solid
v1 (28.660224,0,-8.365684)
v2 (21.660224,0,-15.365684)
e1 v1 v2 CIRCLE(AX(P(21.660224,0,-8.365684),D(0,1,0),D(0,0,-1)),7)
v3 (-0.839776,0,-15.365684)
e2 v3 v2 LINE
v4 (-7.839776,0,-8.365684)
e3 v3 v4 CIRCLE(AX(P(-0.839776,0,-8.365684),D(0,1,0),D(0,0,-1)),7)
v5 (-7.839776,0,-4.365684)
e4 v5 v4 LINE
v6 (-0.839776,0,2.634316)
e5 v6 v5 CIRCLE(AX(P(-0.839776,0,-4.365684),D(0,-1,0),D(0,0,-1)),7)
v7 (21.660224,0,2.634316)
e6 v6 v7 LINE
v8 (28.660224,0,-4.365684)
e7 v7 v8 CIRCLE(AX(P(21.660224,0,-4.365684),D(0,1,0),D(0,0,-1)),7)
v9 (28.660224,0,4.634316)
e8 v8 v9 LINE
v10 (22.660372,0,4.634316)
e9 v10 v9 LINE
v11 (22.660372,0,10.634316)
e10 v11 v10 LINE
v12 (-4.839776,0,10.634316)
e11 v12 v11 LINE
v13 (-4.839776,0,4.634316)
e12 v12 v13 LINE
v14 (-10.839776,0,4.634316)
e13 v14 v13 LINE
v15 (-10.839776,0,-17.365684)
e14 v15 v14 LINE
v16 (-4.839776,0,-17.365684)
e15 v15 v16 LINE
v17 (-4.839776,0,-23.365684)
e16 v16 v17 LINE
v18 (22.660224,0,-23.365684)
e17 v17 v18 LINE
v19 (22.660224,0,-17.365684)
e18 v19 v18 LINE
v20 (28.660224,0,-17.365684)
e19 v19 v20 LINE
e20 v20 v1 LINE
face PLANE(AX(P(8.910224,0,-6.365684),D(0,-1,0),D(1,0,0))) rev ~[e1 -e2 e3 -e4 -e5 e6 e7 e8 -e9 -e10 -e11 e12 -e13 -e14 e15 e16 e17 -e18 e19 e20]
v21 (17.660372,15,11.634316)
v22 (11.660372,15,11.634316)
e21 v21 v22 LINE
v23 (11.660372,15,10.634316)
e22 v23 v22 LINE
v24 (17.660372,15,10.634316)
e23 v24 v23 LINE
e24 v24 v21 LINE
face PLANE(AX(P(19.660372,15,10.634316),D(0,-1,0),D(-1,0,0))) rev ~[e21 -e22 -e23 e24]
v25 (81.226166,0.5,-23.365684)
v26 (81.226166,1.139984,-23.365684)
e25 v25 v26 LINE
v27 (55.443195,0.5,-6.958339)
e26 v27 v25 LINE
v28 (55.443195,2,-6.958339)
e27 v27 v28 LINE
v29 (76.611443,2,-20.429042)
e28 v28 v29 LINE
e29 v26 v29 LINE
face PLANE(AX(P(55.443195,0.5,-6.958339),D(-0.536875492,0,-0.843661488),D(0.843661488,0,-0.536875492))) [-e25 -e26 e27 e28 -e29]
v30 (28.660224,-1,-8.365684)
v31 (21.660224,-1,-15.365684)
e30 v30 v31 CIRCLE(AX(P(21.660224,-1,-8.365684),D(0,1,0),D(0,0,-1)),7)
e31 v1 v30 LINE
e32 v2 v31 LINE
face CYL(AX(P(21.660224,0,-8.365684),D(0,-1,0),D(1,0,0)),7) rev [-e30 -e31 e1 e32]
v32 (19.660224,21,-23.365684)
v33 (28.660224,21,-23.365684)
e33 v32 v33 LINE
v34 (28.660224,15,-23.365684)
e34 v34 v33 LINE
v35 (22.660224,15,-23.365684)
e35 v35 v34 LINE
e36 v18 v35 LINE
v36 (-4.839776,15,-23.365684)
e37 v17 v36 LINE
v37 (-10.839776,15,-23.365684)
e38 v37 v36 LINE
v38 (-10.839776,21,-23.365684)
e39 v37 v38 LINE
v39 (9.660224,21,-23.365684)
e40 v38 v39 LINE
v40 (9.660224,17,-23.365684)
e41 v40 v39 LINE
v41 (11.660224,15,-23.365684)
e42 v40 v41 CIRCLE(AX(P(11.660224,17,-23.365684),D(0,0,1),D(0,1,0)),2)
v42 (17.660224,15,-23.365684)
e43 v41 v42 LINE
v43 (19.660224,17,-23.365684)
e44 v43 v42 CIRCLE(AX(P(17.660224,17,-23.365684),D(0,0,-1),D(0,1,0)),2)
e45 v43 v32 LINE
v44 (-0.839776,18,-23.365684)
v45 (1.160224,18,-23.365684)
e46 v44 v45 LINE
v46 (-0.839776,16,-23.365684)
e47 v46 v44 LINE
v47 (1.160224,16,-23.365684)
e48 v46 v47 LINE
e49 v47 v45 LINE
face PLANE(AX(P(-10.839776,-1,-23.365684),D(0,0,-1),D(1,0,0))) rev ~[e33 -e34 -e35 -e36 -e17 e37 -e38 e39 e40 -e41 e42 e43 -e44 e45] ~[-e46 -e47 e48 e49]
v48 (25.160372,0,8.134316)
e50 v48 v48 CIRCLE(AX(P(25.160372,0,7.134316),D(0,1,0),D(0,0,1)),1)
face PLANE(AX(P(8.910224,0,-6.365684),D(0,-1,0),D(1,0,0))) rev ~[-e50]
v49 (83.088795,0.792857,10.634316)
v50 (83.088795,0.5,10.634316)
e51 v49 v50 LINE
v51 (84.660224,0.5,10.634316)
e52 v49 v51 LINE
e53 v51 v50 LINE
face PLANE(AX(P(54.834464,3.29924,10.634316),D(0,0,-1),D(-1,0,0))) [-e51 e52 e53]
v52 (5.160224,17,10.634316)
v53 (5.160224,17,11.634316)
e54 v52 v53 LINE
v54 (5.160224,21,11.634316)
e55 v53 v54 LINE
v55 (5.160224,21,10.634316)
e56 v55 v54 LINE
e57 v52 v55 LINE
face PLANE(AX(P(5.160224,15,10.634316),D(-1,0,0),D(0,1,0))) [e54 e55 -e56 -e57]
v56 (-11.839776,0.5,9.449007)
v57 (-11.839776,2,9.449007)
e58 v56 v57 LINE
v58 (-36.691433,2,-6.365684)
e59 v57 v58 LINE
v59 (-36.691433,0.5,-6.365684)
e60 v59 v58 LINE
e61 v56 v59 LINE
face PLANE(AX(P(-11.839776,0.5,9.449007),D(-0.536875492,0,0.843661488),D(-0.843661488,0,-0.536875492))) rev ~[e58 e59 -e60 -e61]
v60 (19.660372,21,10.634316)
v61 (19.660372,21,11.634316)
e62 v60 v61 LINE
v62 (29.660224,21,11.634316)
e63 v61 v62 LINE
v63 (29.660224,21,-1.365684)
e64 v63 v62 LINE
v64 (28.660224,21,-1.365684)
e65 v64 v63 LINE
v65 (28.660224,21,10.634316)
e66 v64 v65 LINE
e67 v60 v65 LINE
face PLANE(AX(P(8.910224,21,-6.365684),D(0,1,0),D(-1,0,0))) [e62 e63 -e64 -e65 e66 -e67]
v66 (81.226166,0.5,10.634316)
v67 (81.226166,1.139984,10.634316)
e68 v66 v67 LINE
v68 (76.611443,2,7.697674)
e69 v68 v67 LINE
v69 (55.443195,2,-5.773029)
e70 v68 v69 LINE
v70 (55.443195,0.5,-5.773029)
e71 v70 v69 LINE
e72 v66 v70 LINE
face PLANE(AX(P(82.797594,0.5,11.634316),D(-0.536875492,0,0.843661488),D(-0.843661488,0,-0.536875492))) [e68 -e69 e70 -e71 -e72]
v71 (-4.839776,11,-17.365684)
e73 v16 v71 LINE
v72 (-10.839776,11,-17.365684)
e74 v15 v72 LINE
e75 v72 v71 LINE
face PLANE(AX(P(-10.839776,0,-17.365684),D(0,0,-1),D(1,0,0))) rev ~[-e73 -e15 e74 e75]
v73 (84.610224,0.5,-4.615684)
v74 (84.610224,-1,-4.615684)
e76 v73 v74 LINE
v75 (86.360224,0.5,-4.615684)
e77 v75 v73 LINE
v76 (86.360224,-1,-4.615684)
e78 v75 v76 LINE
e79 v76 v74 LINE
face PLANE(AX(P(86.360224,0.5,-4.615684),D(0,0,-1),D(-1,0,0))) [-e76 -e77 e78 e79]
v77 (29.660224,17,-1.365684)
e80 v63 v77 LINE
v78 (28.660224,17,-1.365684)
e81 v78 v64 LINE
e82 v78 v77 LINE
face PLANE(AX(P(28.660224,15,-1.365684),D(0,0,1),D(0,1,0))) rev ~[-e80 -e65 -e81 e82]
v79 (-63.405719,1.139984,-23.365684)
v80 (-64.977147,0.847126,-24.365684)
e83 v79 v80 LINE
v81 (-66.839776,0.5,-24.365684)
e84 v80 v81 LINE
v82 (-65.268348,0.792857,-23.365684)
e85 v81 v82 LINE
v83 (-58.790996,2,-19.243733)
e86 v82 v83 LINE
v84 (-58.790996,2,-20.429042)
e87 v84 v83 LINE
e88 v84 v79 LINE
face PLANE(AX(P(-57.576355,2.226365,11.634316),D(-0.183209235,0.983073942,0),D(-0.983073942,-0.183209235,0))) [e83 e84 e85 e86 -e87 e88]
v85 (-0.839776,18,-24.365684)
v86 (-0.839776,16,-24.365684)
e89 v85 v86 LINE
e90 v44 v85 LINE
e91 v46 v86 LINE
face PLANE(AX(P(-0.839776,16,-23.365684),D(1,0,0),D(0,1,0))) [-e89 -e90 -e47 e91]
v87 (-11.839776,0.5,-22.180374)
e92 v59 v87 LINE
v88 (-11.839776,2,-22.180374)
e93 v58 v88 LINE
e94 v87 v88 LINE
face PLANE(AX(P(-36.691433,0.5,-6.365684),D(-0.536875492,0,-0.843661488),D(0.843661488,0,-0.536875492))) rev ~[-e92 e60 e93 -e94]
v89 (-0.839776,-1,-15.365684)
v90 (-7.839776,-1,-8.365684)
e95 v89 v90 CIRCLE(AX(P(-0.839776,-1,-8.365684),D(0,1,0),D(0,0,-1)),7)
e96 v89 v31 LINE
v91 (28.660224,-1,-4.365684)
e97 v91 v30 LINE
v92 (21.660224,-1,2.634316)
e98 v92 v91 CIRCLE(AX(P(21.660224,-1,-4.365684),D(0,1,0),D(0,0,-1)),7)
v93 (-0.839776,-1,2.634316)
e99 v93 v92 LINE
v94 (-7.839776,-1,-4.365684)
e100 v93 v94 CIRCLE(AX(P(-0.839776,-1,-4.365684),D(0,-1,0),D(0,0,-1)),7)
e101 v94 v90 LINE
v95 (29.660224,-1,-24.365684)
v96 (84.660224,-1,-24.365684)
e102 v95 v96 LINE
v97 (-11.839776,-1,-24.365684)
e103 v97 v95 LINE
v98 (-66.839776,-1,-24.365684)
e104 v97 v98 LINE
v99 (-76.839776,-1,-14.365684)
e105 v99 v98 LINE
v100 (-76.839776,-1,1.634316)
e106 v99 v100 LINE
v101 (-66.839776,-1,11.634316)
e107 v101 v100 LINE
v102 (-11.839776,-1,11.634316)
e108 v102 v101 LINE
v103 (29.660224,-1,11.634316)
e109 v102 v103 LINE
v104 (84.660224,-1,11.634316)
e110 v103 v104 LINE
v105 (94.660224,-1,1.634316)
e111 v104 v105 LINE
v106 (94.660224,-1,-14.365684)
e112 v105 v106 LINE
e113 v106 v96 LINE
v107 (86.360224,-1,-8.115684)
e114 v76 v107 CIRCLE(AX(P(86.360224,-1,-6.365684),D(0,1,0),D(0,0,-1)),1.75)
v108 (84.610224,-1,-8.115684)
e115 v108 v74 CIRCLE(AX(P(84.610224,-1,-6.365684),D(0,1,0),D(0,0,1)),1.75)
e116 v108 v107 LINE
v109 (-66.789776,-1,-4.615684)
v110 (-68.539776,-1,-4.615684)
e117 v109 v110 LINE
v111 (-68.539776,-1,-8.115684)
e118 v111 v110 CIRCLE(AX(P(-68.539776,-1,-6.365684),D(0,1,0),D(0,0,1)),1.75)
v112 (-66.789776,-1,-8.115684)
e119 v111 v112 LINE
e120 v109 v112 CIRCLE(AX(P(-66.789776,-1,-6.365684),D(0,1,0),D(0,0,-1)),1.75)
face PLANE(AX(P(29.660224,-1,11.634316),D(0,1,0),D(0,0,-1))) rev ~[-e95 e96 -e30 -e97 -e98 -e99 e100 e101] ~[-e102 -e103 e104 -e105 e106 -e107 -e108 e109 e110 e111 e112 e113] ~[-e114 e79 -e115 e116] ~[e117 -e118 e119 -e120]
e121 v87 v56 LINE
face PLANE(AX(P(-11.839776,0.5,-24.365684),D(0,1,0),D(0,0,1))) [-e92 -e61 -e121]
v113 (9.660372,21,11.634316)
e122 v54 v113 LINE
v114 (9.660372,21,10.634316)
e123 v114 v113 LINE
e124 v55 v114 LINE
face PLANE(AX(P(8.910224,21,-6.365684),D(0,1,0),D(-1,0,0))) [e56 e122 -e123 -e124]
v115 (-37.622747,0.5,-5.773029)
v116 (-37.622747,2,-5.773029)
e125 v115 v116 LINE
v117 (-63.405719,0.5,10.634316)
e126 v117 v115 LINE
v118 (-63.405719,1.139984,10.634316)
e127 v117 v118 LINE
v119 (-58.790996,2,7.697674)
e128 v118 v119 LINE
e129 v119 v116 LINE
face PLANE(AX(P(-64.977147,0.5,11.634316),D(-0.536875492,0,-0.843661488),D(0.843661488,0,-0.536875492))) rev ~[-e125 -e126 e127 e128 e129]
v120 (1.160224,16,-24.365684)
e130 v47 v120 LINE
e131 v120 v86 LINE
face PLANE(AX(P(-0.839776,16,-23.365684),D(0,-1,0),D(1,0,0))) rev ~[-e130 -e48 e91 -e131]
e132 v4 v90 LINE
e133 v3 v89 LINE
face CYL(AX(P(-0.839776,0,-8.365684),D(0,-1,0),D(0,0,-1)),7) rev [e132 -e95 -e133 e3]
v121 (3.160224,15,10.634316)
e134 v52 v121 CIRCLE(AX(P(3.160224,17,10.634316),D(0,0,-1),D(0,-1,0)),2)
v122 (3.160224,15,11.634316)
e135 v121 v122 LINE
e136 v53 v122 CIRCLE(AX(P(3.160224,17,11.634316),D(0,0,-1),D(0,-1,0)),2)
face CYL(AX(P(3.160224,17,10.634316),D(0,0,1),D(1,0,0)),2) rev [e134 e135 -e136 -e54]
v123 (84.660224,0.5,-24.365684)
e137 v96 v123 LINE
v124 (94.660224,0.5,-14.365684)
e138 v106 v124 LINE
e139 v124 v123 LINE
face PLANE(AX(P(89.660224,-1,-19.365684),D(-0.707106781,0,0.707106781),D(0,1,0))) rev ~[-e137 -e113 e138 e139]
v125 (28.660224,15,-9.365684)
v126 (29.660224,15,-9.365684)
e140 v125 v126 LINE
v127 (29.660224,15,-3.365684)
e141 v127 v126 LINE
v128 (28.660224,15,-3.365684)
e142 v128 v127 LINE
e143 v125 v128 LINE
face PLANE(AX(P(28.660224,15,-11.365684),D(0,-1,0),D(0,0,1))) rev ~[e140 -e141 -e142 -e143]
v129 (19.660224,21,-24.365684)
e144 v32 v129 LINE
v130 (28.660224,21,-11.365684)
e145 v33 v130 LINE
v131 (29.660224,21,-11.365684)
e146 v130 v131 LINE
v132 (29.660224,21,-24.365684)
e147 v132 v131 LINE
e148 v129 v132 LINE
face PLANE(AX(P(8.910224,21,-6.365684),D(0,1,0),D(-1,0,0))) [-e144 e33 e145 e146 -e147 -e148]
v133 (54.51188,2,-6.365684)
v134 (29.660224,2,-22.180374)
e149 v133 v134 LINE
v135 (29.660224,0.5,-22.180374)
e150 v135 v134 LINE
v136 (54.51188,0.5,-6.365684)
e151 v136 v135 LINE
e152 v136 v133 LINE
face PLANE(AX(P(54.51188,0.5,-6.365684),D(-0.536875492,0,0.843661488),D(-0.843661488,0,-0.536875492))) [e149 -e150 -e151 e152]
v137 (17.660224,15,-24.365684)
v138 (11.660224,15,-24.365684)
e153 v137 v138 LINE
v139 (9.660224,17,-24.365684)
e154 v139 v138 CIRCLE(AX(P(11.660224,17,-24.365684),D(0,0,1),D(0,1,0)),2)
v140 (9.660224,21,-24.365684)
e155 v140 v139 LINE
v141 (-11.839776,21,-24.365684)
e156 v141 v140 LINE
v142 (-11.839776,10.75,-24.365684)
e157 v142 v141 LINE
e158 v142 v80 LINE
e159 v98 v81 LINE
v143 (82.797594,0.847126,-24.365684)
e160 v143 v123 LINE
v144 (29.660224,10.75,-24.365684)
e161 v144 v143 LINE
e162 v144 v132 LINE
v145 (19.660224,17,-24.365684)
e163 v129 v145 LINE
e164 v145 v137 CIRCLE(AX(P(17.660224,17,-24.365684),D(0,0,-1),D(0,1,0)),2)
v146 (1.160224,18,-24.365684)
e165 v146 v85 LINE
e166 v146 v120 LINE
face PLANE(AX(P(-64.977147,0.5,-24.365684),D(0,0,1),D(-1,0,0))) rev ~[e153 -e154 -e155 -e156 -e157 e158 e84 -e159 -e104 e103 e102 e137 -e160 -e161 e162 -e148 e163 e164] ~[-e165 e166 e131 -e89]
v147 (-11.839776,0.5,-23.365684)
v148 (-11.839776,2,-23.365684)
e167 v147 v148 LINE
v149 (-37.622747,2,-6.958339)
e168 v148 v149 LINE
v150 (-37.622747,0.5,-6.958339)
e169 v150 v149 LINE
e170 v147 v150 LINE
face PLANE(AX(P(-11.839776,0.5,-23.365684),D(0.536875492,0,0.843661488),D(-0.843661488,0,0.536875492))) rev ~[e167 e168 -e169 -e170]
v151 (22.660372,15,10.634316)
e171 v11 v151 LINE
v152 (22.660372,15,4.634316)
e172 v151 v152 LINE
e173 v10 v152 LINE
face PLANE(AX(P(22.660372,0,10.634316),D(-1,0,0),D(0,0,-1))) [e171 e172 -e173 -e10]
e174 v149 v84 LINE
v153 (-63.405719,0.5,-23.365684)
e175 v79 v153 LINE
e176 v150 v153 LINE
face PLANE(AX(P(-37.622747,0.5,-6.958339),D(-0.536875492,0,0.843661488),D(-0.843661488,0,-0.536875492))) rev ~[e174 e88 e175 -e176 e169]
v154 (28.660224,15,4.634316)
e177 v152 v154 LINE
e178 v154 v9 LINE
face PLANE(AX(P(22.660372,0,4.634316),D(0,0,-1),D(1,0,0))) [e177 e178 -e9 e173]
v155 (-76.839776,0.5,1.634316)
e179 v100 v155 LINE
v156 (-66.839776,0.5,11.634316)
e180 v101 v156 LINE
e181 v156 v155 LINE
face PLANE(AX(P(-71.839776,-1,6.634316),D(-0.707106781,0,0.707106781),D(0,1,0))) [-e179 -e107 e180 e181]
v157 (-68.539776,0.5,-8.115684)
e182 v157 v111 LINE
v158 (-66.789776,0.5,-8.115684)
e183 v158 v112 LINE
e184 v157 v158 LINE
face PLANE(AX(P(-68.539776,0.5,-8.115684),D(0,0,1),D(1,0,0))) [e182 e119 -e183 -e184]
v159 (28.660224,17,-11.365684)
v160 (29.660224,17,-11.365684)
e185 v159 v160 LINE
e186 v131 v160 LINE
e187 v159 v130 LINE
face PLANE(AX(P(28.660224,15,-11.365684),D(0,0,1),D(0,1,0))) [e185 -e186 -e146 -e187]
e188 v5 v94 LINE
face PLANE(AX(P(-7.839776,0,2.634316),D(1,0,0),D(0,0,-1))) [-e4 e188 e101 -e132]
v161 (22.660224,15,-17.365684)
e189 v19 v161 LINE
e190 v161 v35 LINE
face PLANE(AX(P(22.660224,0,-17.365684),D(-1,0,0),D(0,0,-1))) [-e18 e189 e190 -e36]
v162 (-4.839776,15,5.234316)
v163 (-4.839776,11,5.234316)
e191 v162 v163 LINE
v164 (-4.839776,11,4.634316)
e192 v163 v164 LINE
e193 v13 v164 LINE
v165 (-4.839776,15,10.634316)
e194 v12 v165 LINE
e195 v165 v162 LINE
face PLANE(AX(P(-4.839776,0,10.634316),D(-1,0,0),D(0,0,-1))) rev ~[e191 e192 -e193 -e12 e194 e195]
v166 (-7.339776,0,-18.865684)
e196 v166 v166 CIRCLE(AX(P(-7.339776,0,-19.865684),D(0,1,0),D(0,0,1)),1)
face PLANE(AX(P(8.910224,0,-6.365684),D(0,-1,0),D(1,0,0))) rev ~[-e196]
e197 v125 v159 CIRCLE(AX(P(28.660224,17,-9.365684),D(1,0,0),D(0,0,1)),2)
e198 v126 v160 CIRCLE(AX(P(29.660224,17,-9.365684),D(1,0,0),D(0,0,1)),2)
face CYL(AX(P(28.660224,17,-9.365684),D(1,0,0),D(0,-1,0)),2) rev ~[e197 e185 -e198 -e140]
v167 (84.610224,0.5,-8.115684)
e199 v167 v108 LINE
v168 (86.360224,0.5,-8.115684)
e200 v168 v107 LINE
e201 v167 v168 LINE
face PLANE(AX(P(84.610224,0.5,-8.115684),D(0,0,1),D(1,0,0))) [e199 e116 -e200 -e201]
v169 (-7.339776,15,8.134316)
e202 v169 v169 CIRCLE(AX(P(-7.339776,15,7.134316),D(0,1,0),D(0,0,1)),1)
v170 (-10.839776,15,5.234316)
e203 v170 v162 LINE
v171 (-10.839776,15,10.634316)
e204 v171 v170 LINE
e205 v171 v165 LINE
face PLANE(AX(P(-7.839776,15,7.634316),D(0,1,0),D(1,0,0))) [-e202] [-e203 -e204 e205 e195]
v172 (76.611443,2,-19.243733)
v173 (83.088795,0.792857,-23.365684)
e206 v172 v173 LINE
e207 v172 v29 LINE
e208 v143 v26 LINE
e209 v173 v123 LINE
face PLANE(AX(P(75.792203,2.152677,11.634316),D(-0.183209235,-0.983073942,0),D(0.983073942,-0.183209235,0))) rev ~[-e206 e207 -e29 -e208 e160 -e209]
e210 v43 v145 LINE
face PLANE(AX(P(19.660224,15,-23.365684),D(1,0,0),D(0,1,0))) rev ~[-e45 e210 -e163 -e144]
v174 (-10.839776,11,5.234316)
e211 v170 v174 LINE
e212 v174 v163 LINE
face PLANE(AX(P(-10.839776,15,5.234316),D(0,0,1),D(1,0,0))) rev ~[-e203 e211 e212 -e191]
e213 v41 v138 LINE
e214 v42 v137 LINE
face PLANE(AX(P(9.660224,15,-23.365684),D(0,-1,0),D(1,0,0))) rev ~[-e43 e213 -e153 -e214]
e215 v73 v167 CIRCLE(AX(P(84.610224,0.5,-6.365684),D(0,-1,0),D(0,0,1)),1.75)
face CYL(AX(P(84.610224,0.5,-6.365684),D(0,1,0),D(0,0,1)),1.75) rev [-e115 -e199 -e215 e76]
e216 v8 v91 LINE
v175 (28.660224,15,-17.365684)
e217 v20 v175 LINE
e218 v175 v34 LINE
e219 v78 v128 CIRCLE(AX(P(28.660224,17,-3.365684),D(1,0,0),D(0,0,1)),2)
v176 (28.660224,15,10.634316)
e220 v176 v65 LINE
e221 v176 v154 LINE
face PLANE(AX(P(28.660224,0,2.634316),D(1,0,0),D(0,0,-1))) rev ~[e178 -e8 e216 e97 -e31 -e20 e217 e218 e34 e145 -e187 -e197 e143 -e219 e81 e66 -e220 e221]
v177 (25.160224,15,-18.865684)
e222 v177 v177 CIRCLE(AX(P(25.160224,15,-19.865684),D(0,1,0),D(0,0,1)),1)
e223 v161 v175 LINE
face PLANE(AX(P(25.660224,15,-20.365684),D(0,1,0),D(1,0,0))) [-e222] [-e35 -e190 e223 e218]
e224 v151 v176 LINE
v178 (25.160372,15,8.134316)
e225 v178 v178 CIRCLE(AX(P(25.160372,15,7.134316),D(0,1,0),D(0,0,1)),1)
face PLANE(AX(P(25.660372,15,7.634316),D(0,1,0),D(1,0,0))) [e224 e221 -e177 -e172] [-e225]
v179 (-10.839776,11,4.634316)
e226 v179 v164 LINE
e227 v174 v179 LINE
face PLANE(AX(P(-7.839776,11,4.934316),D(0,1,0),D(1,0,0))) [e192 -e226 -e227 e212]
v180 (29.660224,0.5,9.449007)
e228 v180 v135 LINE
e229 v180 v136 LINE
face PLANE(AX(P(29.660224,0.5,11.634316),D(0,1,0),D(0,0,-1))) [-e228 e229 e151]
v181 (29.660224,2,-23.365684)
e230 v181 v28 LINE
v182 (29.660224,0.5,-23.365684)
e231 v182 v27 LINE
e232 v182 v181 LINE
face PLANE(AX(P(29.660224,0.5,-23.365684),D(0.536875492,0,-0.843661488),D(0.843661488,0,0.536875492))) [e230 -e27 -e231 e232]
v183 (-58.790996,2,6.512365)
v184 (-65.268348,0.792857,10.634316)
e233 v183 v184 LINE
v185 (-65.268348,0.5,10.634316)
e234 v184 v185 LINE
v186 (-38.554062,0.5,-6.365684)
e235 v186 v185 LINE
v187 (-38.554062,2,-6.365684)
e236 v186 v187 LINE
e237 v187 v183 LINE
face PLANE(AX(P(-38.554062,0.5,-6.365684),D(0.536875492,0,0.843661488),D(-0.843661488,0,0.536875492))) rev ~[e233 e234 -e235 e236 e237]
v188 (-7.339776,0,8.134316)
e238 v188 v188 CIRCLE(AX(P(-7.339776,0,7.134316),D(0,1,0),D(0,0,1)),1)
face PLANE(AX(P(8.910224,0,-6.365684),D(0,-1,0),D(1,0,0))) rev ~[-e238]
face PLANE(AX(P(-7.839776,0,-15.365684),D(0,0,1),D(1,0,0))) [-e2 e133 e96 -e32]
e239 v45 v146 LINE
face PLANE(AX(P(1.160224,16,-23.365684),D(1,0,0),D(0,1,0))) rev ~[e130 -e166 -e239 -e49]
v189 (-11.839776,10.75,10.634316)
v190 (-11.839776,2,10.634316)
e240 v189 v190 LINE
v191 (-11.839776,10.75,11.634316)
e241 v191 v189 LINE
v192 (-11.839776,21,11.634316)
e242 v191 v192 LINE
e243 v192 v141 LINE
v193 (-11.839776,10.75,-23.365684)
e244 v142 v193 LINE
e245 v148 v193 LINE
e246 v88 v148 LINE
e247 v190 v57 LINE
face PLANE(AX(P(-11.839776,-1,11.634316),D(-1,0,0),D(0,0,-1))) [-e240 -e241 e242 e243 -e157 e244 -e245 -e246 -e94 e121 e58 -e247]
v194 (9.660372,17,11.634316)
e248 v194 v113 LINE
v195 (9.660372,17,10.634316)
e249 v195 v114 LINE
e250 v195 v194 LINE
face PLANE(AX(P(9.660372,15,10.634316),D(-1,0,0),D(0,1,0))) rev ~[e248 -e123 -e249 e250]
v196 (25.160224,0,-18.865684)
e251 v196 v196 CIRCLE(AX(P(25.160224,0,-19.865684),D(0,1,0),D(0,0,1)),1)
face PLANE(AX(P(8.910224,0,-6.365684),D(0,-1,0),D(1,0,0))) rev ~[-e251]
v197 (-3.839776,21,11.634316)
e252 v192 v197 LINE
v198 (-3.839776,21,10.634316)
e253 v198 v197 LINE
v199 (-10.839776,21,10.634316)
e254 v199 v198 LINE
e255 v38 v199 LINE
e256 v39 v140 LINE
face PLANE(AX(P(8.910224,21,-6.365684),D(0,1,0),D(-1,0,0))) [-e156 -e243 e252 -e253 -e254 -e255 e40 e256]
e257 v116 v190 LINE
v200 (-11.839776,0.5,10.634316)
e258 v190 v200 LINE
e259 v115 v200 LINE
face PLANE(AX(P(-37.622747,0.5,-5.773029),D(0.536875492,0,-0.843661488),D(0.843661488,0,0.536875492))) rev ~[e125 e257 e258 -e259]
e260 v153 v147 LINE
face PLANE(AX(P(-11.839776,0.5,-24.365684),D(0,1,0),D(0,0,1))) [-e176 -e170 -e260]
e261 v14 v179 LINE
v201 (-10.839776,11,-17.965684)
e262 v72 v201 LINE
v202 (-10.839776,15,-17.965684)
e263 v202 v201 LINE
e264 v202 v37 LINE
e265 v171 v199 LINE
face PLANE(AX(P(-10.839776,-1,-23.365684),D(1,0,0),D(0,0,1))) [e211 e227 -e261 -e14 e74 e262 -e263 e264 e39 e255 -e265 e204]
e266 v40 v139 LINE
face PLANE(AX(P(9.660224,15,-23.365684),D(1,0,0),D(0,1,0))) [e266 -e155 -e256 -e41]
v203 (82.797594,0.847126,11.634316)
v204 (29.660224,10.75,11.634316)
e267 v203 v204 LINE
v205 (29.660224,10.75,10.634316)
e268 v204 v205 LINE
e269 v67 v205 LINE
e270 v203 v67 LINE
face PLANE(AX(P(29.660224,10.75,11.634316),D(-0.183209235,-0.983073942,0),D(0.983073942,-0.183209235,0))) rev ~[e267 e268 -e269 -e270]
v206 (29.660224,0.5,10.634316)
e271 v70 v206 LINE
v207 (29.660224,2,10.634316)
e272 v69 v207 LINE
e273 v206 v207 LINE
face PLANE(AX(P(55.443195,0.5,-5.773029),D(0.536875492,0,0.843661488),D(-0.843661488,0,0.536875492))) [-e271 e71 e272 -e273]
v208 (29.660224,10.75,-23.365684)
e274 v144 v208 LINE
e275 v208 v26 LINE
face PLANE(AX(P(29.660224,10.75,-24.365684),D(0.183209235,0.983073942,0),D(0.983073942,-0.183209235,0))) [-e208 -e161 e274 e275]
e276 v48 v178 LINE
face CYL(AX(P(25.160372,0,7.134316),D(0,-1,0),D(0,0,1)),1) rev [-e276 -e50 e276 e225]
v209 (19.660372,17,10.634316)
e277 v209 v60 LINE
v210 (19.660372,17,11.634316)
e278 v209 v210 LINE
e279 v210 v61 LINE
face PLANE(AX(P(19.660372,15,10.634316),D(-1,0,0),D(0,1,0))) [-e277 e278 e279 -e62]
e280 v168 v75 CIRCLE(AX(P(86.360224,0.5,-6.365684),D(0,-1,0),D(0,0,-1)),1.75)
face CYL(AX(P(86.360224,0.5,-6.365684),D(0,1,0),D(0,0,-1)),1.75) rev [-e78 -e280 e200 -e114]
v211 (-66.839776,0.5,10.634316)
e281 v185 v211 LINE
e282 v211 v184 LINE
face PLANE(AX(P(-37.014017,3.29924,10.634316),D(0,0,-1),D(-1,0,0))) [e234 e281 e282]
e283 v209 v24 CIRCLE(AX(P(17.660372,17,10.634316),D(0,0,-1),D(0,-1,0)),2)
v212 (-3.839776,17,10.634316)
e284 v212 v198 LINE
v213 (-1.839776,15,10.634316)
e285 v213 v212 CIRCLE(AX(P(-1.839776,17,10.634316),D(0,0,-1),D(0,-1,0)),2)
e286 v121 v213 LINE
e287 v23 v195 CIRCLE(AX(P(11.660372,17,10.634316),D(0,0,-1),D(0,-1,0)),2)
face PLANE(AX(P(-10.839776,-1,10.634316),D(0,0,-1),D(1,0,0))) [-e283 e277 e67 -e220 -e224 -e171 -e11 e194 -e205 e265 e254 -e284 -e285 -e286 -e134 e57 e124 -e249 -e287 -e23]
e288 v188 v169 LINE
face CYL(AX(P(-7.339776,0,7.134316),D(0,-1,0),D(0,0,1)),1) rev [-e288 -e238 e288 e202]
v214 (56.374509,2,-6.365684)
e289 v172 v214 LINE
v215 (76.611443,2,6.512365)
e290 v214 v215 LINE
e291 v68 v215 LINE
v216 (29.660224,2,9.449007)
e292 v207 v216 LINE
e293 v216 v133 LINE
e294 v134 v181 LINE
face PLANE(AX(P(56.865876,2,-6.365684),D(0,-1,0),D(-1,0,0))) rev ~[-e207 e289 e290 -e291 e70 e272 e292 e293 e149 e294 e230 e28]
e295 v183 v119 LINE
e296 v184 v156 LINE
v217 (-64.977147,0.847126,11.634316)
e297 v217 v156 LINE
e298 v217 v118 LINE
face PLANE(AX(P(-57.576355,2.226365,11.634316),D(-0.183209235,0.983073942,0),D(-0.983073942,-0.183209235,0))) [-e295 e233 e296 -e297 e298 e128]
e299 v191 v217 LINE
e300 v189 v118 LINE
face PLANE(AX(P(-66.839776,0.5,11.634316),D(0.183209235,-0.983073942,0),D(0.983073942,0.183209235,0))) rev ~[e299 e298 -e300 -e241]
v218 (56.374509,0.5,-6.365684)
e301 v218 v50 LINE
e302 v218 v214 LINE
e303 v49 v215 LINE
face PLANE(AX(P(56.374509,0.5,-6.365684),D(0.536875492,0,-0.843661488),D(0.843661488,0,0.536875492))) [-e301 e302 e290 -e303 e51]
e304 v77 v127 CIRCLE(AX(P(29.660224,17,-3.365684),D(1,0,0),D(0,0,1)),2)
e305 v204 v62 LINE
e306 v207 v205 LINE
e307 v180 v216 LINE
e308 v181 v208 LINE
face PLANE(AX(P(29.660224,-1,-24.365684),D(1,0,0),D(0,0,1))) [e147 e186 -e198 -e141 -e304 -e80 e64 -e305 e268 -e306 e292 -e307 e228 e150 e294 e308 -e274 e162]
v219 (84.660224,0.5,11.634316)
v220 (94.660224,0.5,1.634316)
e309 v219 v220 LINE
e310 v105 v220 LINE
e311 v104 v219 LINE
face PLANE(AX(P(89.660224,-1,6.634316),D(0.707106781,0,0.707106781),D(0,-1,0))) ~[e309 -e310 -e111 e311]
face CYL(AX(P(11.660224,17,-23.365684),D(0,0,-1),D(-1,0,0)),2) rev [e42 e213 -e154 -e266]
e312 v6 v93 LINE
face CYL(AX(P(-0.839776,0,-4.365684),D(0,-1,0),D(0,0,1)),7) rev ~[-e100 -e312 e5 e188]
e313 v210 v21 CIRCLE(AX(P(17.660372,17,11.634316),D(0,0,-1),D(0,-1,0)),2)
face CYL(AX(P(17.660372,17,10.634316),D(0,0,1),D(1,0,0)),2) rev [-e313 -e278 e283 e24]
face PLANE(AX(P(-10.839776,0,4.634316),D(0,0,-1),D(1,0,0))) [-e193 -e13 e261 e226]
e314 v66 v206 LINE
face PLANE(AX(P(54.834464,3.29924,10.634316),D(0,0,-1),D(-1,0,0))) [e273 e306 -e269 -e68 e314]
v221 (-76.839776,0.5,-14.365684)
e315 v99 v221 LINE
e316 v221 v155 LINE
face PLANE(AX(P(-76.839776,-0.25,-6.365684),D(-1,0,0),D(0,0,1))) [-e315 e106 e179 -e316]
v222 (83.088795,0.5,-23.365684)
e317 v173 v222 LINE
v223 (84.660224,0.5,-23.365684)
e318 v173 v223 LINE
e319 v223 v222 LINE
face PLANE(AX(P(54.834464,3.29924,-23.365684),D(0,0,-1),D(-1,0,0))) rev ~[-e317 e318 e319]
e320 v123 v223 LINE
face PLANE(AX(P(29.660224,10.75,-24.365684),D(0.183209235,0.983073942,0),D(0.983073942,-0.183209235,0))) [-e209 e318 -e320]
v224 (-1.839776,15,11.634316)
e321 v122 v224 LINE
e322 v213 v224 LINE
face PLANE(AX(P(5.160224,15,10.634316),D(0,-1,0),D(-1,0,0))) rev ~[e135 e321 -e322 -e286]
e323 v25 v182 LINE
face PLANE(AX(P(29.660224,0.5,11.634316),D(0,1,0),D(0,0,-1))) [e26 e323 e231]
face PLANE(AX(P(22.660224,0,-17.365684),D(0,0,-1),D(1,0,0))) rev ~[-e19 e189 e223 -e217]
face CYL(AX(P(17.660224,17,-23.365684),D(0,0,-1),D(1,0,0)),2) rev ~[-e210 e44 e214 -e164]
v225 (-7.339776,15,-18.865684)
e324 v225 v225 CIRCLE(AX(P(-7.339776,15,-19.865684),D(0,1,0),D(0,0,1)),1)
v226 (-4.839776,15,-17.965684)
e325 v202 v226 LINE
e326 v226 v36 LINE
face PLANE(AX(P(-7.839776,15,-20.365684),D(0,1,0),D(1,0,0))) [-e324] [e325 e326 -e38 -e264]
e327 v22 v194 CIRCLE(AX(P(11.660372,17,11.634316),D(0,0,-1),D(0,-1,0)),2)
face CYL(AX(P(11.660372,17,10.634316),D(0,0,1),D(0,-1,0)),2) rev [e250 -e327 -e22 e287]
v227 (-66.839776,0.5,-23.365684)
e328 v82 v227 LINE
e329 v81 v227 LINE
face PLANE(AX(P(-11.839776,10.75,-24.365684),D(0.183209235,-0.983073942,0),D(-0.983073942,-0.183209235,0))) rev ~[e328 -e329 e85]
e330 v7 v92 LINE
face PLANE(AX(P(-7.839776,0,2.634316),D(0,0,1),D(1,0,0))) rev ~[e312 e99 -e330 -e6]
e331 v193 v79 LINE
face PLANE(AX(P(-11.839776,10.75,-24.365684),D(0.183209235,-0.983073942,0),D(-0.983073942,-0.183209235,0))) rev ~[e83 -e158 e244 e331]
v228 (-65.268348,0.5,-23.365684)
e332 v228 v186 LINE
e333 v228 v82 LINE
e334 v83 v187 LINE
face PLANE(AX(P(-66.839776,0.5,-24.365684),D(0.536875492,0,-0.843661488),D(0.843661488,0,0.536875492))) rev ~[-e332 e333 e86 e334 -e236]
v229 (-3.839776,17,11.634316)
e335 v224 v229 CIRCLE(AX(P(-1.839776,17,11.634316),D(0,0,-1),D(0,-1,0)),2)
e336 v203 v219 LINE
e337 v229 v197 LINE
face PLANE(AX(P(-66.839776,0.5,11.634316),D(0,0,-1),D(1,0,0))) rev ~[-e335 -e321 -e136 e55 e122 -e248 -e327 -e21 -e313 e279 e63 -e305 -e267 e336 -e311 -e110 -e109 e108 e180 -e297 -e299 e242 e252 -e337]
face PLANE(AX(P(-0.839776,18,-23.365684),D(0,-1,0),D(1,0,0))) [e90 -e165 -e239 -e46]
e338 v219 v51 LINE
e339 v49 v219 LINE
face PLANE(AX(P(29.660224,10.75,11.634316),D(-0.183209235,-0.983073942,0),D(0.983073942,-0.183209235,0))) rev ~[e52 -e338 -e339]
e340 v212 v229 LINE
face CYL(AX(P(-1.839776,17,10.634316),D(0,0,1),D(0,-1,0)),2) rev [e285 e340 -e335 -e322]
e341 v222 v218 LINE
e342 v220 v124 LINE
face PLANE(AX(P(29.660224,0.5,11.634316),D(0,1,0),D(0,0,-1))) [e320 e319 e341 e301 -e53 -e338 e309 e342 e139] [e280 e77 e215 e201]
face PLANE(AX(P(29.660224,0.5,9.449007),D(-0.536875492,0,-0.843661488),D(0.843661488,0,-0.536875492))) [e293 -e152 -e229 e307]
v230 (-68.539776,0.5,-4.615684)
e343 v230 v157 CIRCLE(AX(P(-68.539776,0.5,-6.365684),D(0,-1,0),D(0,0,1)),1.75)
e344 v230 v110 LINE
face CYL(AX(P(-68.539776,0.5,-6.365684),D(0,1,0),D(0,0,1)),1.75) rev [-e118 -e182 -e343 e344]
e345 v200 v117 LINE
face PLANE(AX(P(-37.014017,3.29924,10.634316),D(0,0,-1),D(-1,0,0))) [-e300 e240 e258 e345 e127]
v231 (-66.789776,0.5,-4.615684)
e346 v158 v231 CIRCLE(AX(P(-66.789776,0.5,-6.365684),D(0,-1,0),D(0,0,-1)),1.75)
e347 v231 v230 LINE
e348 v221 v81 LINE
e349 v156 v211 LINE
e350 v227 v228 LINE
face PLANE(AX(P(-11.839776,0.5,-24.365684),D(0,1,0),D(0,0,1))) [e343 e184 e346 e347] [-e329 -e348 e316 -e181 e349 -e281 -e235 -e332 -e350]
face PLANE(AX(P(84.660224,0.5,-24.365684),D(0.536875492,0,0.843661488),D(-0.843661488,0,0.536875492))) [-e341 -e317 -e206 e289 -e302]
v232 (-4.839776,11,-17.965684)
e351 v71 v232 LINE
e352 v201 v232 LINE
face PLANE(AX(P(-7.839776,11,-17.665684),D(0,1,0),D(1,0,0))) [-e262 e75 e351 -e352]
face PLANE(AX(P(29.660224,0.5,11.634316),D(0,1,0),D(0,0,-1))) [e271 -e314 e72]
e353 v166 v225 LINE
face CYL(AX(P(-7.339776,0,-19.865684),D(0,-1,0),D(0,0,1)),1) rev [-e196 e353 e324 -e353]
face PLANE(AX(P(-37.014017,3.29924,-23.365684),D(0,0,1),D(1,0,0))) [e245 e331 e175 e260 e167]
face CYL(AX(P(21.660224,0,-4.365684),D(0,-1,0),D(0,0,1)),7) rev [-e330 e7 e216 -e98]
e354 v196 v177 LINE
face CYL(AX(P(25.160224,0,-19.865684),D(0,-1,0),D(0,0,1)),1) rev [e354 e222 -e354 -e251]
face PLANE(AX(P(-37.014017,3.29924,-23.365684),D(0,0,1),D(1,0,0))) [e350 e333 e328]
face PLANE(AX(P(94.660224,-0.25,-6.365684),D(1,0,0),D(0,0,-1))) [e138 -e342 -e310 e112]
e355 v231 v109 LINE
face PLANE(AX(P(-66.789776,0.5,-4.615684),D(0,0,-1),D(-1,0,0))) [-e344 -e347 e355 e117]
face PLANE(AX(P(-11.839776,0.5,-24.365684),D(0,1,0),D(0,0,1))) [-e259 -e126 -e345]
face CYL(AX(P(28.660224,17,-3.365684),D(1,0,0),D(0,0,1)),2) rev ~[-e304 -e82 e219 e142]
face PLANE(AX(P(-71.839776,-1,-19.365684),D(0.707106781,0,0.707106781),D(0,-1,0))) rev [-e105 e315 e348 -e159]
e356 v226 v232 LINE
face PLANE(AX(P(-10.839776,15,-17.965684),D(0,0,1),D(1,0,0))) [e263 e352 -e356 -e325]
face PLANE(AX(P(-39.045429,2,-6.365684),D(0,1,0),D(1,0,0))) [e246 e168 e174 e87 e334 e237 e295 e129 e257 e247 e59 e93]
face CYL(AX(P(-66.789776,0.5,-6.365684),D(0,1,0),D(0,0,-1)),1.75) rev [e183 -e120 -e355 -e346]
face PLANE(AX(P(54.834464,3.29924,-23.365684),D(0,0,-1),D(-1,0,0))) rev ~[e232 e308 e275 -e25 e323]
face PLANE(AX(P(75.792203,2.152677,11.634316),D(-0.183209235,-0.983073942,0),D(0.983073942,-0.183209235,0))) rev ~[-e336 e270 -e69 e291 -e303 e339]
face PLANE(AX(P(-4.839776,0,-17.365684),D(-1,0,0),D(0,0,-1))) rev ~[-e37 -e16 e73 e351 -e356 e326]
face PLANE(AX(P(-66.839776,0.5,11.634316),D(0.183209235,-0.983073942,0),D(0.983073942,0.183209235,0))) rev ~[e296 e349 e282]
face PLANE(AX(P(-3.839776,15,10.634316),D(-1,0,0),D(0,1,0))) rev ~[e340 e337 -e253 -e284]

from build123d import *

# Parameters (mm, degrees)
SKETCH1_W             = 6
SKETCH1_H             = 6
SKETCH1_R             = 1
BOSS_EXTRUDE1_DEPTH   = 15
BOSS_EXTRUDE1_2_DEPTH = 15
BOSS_EXTRUDE1_3_DEPTH = 15
BOSS_EXTRUDE1_4_DEPTH = 15
SKETCH2_W             = 39.5
SKETCH2_H             = 33.999999999
BOSS_EXTRUDE2_DEPTH   = 1
SKETCH3_W             = 39.5
SKETCH3_H             = 33.999999999
BOSS_EXTRUDE3_DEPTH   = 22
SKETCH4_W             = 36.5
SKETCH4_H             = 17.999999999
CUT_EXTRUDE1_DEPTH    = 22
FILLET1_R             = 7
SKETCH7_W             = 6
SKETCH7_H             = 0.6
CUT_EXTRUDE2_DEPTH    = 4
SKETCH8_W             = 9.999999999
SKETCH8_H             = 6
CUT_EXTRUDE3_DEPTH    = 4
FILLET2_R             = 2
SKETCH9_W             = 10
SKETCH9_H             = 6
SKETCH9_W_2           = 9
CUT_EXTRUDE4_DEPTH    = 4
FILLET3_R             = 2
SKETCH10_W            = 10
SKETCH10_H            = 6
CUT_EXTRUDE5_DEPTH    = 4
FILLET4_R             = 2
SKETCH11_W            = 2
SKETCH11_H            = 2
CUT_EXTRUDE6_DEPTH    = 4
SKETCH12_W            = 35.999999999
SKETCH12_H            = 1.5
BOSS_EXTRUDE4_DEPTH   = 65
SKETCH13_W            = 35.999999999
SKETCH13_H            = 1.5
BOSS_EXTRUDE5_DEPTH   = 65
CUT_EXTRUDE7_DEPTH    = 65
CHAMFER1_SIZE         = 10
BOSS_EXTRUDE6_DEPTH   = 1
BOSS_EXTRUDE7_DEPTH   = 1
BOSS_EXTRUDE8_DEPTH   = 1.5
CUT_EXTRUDE8_DEPTH    = 51.5


with BuildPart() as part:
    # Sketch1 → Boss-Extrude1 (new body)
    with BuildSketch(Plane(origin=(0, 0, 0), x_dir=(1, 0, 0), z_dir=(0, 1, 0))):
        with Locations((-7.839776389, 20.365683815)):
            Rectangle(SKETCH1_W, SKETCH1_H)
        with Locations(Location((-7.339776389, 19.865683815, 0), (0, 0, 270))):
            Circle(SKETCH1_R, mode=Mode.SUBTRACT)
    extrude(amount=BOSS_EXTRUDE1_DEPTH)



with BuildPart() as body_2:
    # Sketch1 → Boss-Extrude1 2 (new body)
    with BuildSketch(Plane(origin=(0, 0, 0), x_dir=(1, 0, 0), z_dir=(0, 1, 0))):
        with Locations((25.660223611, 20.365683814)):
            Rectangle(SKETCH1_W, SKETCH1_H)
        with Locations(Location((25.160223611, 19.865683814, 0), (0, 0, 270))):
            Circle(SKETCH1_R, mode=Mode.SUBTRACT)
    extrude(amount=BOSS_EXTRUDE1_2_DEPTH)


with BuildPart() as body_3:
    # Sketch1 → Boss-Extrude1 3 (new body)
    with BuildSketch(Plane(origin=(0, 0, 0), x_dir=(1, 0, 0), z_dir=(0, 1, 0))):
        with Locations((-7.839776389, -7.634316185)):
            Rectangle(SKETCH1_W, SKETCH1_H)
        with Locations(Location((-7.339776389, -7.134316185, 0), (0, 0, 270))):
            Circle(SKETCH1_R, mode=Mode.SUBTRACT)
    extrude(amount=BOSS_EXTRUDE1_3_DEPTH)


with BuildPart() as body_4:
    # Sketch1 → Boss-Extrude1 4 (new body)
    with BuildSketch(Plane(origin=(0, 0, 0), x_dir=(1, 0, 0), z_dir=(0, 1, 0))):
        with Locations((25.660371549, -7.634316185)):
            Rectangle(SKETCH1_W, SKETCH1_H)
        with Locations(Location((25.160371549, -7.134316185, 0), (0, 0, 270))):
            Circle(SKETCH1_R, mode=Mode.SUBTRACT)
    extrude(amount=BOSS_EXTRUDE1_4_DEPTH)


with BuildPart() as part_1:
    add(part.part)

    add(body_2.part)  # Boss-Extrude2 merges body 2

    add(body_3.part)  # Boss-Extrude2 merges body 3

    add(body_4.part)  # Boss-Extrude2 merges body 4
    # Sketch2 → Boss-Extrude2 (add)
    with BuildSketch(Plane.XZ):
        with Locations((8.910223611, -6.365683814)):
            Rectangle(SKETCH2_W, SKETCH2_H)
    extrude(amount=BOSS_EXTRUDE2_DEPTH)

    # Sketch3 → Boss-Extrude3 (add)
    with BuildSketch(Plane.XZ.offset(1)):
        Polygon((-11.839776389, 9.730248223), (-11.839776389, 11.634316185), (29.660223611, 11.634316185), (29.660223611, 9.730248223), (29.660223611, -24.365683814), (28.803720569, -24.365683814), (-10.696279431, -24.365683814), (-11.839776389, -24.365683814), align=None)
        with Locations((8.910223611, -6.365683814)):
            Rectangle(SKETCH3_W, SKETCH3_H, mode=Mode.SUBTRACT)
    extrude(amount=-BOSS_EXTRUDE3_DEPTH)

    # Sketch4 → Cut-Extrude1 (cut)
    with BuildSketch(Plane(origin=(0, 0, 0), x_dir=(1, 0, 0), z_dir=(0, 1, 0))):
        with Locations((10.410223611, 6.365683815)):
            Rectangle(SKETCH4_W, SKETCH4_H)
    extrude(amount=-CUT_EXTRUDE1_DEPTH, mode=Mode.SUBTRACT)

    # Fillet1
    fillet1_edges = [part_1.edges().sort_by_distance(p)[0] for p in [
        (-7.839776389, -0.5, 2.634316185),
        (-7.839776389, -0.5, -15.365683814),
        (28.660223611, -0.5, -15.365683814),
        (28.660223611, -0.5, 2.634316185),
    ]]
    fillet(fillet1_edges, radius=FILLET1_R)

    # Sketch7 → Cut-Extrude2 (cut)
    with BuildSketch(Plane(origin=(0, 15, 0), x_dir=(1, 0, 0), z_dir=(0, 1, 0))):
        with Locations((-7.839776389, 17.665683815)):
            Rectangle(SKETCH7_W, SKETCH7_H)
        with Locations((-7.839776389, -4.934316185)):
            Rectangle(SKETCH7_W, SKETCH7_H)
    extrude(amount=-CUT_EXTRUDE2_DEPTH, mode=Mode.SUBTRACT)

    # Sketch8 → Cut-Extrude3 (cut)
    with BuildSketch(Plane.ZY.offset(-28.660223611)):
        with Locations((-6.365683815, 18)):
            Rectangle(SKETCH8_W, SKETCH8_H)
    extrude(amount=-CUT_EXTRUDE3_DEPTH, mode=Mode.SUBTRACT)

    # Fillet2
    fillet2_edges = [part_1.edges().sort_by_distance(p)[0] for p in [
        (29.160223611, 15, -11.365683814),
        (29.160223611, 15, -1.365683815),
    ]]
    fillet(fillet2_edges, radius=FILLET2_R)

    # Sketch9 → Cut-Extrude4 (cut)
    with BuildSketch(Plane(origin=(0, 0, 10.634316185), x_dir=(-1, 0, 0), z_dir=(0, 0, -1))):
        with Locations((-14.660371549, 18)):
            Rectangle(SKETCH9_W, SKETCH9_H)
        with Locations((-0.660223611, 18)):
            Rectangle(SKETCH9_W_2, SKETCH9_H)
    extrude(amount=-CUT_EXTRUDE4_DEPTH, mode=Mode.SUBTRACT)

    # Fillet3
    fillet3_edges = [part_1.edges().sort_by_distance(p)[0] for p in [
        (19.660371549, 15, 11.134316185),
        (9.660371549, 15, 11.134316185),
        (5.160223611, 15, 11.134316185),
        (-3.839776389, 15, 11.134316185),
    ]]
    fillet(fillet3_edges, radius=FILLET3_R)

    # Sketch10 → Cut-Extrude5 (cut)
    with BuildSketch(Plane.XY.offset(-23.365683814)):
        with Locations((14.660223611, 18)):
            Rectangle(SKETCH10_W, SKETCH10_H)
    extrude(amount=-CUT_EXTRUDE5_DEPTH, mode=Mode.SUBTRACT)

    # Fillet4
    fillet4_edges = [part_1.edges().sort_by_distance(p)[0] for p in [
        (19.660223611, 15, -23.865683814),
        (9.660223611, 15, -23.865683814),
    ]]
    fillet(fillet4_edges, radius=FILLET4_R)

    # Sketch11 → Cut-Extrude6 (cut)
    with BuildSketch(Plane.XY.offset(-23.365683814)):
        with Locations((0.160223611, 17)):
            Rectangle(SKETCH11_W, SKETCH11_H)
    extrude(amount=-CUT_EXTRUDE6_DEPTH, mode=Mode.SUBTRACT)

    # Sketch12 → Boss-Extrude4 (add)
    with BuildSketch(Plane.ZY.offset(11.839776389)):
        with Locations((-6.365683814, -0.25)):
            Rectangle(SKETCH12_W, SKETCH12_H)
    extrude(amount=BOSS_EXTRUDE4_DEPTH)

    # Sketch13 → Boss-Extrude5 (add)
    with BuildSketch(Plane(origin=(29.660223611, 0, 0), x_dir=(0, 0, -1), z_dir=(1, 0, 0))):
        with Locations((6.365683814, -0.25)):
            Rectangle(SKETCH13_W, SKETCH13_H)
    extrude(amount=BOSS_EXTRUDE5_DEPTH)

    # Sketch14 → Cut-Extrude7 (cut)
    with BuildSketch(Plane(origin=(0, 0.5, 0), x_dir=(1, 0, 0), z_dir=(0, 1, 0))):
        with BuildLine():
            Line((-68.539776389, 8.115683814), (-66.789776389, 8.115683814))
            ThreePointArc((-66.789776389, 8.115683814), (-65.039776389, 6.365683814), (-66.789776389, 4.615683814))
            Line((-66.789776389, 4.615683814), (-68.539776389, 4.615683814))
            ThreePointArc((-68.539776389, 4.615683814), (-70.289776389, 6.365683814), (-68.539776389, 8.115683814))
        make_face()
        with BuildLine():
            Line((84.610223611, 8.115683814), (86.360223611, 8.115683814))
            ThreePointArc((86.360223611, 8.115683814), (88.110223611, 6.365683814), (86.360223611, 4.615683814))
            Line((86.360223611, 4.615683814), (84.610223611, 4.615683814))
            ThreePointArc((84.610223611, 4.615683814), (82.860223611, 6.365683814), (84.610223611, 8.115683814))
        make_face()
    extrude(amount=-CUT_EXTRUDE7_DEPTH, mode=Mode.SUBTRACT)

    # Chamfer1
    chamfer1_edges = [part_1.edges().sort_by_distance(p)[0] for p in [
        (-76.839776389, -0.25, -24.365683814),
        (-76.839776389, -0.25, 11.634316185),
        (94.660223611, -0.25, 11.634316185),
        (94.660223611, -0.25, -24.365683814),
    ]]
    chamfer(chamfer1_edges, length=CHAMFER1_SIZE)

    # Sketch15 → Boss-Extrude6 (add)
    with BuildSketch(Plane.XY.offset(11.634316185)):
        Polygon((-66.839776389, 0.5), (-11.839776389, 10.75), (-11.839776389, 0.5), align=None)
        Polygon((29.660223611, 10.75), (84.660223611, 0.5), (29.660223611, 0.5), align=None)
    extrude(amount=-BOSS_EXTRUDE6_DEPTH)

    # Sketch16 → Boss-Extrude7 (add)
    with BuildSketch(Plane(origin=(0, 0, -24.365683814), x_dir=(-1, 0, 0), z_dir=(0, 0, -1))):
        Polygon((-29.660223611, 10.75), (-84.660223611, 0.5), (-29.660223611, 0.5), align=None)
        Polygon((11.839776389, 10.75), (66.839776389, 0.5), (11.839776389, 0.5), align=None)
    extrude(amount=-BOSS_EXTRUDE7_DEPTH)

    # Sketch17 → Boss-Extrude8 (add)
    with BuildSketch(Plane(origin=(0, 0.5, 0), x_dir=(1, 0, 0), z_dir=(0, 1, 0))):
        Polygon((-11.839776389, 23.365683814), (-37.622747474, 6.958338579), (-64.97714713, 24.365683814), (-66.839776389, 24.365683814), (-38.554062103, 6.365683814), (-66.839776389, -11.634316185), (-64.97714713, -11.634316185), (-37.622747474, 5.77302905), (-11.839776389, -10.634316185), (-11.839776389, -9.449006657), (-36.691432844, 6.365683814), (-11.839776389, 22.180374286), align=None)
        Polygon((29.660223611, 23.365683814), (55.443194696, 6.958338579), (82.797594352, 24.365683814), (84.660223611, 24.365683814), (56.374509325, 6.365683814), (84.660223611, -11.634316185), (82.797594352, -11.634316185), (55.443194696, 5.77302905), (29.660223611, -10.634316185), (29.660223611, -9.449006657), (54.511880067, 6.365683814), (29.660223611, 22.180374286), align=None)
    extrude(amount=BOSS_EXTRUDE8_DEPTH)

    # Sketch18 → Cut-Extrude8 (cut)
    with BuildSketch(Plane.XY.offset(11.634316185)):
        Polygon((-57.576355355, 2.226364829), (-66.839776389, 0.5), (-66.839776389, 4.287768192), align=None)
        Polygon((75.79220332, 2.152676509), (84.660223611, 0.5), (84.660223611, 4.287768192), align=None)
    extrude(amount=-CUT_EXTRUDE8_DEPTH, mode=Mode.SUBTRACT)


solid = part_1.part
